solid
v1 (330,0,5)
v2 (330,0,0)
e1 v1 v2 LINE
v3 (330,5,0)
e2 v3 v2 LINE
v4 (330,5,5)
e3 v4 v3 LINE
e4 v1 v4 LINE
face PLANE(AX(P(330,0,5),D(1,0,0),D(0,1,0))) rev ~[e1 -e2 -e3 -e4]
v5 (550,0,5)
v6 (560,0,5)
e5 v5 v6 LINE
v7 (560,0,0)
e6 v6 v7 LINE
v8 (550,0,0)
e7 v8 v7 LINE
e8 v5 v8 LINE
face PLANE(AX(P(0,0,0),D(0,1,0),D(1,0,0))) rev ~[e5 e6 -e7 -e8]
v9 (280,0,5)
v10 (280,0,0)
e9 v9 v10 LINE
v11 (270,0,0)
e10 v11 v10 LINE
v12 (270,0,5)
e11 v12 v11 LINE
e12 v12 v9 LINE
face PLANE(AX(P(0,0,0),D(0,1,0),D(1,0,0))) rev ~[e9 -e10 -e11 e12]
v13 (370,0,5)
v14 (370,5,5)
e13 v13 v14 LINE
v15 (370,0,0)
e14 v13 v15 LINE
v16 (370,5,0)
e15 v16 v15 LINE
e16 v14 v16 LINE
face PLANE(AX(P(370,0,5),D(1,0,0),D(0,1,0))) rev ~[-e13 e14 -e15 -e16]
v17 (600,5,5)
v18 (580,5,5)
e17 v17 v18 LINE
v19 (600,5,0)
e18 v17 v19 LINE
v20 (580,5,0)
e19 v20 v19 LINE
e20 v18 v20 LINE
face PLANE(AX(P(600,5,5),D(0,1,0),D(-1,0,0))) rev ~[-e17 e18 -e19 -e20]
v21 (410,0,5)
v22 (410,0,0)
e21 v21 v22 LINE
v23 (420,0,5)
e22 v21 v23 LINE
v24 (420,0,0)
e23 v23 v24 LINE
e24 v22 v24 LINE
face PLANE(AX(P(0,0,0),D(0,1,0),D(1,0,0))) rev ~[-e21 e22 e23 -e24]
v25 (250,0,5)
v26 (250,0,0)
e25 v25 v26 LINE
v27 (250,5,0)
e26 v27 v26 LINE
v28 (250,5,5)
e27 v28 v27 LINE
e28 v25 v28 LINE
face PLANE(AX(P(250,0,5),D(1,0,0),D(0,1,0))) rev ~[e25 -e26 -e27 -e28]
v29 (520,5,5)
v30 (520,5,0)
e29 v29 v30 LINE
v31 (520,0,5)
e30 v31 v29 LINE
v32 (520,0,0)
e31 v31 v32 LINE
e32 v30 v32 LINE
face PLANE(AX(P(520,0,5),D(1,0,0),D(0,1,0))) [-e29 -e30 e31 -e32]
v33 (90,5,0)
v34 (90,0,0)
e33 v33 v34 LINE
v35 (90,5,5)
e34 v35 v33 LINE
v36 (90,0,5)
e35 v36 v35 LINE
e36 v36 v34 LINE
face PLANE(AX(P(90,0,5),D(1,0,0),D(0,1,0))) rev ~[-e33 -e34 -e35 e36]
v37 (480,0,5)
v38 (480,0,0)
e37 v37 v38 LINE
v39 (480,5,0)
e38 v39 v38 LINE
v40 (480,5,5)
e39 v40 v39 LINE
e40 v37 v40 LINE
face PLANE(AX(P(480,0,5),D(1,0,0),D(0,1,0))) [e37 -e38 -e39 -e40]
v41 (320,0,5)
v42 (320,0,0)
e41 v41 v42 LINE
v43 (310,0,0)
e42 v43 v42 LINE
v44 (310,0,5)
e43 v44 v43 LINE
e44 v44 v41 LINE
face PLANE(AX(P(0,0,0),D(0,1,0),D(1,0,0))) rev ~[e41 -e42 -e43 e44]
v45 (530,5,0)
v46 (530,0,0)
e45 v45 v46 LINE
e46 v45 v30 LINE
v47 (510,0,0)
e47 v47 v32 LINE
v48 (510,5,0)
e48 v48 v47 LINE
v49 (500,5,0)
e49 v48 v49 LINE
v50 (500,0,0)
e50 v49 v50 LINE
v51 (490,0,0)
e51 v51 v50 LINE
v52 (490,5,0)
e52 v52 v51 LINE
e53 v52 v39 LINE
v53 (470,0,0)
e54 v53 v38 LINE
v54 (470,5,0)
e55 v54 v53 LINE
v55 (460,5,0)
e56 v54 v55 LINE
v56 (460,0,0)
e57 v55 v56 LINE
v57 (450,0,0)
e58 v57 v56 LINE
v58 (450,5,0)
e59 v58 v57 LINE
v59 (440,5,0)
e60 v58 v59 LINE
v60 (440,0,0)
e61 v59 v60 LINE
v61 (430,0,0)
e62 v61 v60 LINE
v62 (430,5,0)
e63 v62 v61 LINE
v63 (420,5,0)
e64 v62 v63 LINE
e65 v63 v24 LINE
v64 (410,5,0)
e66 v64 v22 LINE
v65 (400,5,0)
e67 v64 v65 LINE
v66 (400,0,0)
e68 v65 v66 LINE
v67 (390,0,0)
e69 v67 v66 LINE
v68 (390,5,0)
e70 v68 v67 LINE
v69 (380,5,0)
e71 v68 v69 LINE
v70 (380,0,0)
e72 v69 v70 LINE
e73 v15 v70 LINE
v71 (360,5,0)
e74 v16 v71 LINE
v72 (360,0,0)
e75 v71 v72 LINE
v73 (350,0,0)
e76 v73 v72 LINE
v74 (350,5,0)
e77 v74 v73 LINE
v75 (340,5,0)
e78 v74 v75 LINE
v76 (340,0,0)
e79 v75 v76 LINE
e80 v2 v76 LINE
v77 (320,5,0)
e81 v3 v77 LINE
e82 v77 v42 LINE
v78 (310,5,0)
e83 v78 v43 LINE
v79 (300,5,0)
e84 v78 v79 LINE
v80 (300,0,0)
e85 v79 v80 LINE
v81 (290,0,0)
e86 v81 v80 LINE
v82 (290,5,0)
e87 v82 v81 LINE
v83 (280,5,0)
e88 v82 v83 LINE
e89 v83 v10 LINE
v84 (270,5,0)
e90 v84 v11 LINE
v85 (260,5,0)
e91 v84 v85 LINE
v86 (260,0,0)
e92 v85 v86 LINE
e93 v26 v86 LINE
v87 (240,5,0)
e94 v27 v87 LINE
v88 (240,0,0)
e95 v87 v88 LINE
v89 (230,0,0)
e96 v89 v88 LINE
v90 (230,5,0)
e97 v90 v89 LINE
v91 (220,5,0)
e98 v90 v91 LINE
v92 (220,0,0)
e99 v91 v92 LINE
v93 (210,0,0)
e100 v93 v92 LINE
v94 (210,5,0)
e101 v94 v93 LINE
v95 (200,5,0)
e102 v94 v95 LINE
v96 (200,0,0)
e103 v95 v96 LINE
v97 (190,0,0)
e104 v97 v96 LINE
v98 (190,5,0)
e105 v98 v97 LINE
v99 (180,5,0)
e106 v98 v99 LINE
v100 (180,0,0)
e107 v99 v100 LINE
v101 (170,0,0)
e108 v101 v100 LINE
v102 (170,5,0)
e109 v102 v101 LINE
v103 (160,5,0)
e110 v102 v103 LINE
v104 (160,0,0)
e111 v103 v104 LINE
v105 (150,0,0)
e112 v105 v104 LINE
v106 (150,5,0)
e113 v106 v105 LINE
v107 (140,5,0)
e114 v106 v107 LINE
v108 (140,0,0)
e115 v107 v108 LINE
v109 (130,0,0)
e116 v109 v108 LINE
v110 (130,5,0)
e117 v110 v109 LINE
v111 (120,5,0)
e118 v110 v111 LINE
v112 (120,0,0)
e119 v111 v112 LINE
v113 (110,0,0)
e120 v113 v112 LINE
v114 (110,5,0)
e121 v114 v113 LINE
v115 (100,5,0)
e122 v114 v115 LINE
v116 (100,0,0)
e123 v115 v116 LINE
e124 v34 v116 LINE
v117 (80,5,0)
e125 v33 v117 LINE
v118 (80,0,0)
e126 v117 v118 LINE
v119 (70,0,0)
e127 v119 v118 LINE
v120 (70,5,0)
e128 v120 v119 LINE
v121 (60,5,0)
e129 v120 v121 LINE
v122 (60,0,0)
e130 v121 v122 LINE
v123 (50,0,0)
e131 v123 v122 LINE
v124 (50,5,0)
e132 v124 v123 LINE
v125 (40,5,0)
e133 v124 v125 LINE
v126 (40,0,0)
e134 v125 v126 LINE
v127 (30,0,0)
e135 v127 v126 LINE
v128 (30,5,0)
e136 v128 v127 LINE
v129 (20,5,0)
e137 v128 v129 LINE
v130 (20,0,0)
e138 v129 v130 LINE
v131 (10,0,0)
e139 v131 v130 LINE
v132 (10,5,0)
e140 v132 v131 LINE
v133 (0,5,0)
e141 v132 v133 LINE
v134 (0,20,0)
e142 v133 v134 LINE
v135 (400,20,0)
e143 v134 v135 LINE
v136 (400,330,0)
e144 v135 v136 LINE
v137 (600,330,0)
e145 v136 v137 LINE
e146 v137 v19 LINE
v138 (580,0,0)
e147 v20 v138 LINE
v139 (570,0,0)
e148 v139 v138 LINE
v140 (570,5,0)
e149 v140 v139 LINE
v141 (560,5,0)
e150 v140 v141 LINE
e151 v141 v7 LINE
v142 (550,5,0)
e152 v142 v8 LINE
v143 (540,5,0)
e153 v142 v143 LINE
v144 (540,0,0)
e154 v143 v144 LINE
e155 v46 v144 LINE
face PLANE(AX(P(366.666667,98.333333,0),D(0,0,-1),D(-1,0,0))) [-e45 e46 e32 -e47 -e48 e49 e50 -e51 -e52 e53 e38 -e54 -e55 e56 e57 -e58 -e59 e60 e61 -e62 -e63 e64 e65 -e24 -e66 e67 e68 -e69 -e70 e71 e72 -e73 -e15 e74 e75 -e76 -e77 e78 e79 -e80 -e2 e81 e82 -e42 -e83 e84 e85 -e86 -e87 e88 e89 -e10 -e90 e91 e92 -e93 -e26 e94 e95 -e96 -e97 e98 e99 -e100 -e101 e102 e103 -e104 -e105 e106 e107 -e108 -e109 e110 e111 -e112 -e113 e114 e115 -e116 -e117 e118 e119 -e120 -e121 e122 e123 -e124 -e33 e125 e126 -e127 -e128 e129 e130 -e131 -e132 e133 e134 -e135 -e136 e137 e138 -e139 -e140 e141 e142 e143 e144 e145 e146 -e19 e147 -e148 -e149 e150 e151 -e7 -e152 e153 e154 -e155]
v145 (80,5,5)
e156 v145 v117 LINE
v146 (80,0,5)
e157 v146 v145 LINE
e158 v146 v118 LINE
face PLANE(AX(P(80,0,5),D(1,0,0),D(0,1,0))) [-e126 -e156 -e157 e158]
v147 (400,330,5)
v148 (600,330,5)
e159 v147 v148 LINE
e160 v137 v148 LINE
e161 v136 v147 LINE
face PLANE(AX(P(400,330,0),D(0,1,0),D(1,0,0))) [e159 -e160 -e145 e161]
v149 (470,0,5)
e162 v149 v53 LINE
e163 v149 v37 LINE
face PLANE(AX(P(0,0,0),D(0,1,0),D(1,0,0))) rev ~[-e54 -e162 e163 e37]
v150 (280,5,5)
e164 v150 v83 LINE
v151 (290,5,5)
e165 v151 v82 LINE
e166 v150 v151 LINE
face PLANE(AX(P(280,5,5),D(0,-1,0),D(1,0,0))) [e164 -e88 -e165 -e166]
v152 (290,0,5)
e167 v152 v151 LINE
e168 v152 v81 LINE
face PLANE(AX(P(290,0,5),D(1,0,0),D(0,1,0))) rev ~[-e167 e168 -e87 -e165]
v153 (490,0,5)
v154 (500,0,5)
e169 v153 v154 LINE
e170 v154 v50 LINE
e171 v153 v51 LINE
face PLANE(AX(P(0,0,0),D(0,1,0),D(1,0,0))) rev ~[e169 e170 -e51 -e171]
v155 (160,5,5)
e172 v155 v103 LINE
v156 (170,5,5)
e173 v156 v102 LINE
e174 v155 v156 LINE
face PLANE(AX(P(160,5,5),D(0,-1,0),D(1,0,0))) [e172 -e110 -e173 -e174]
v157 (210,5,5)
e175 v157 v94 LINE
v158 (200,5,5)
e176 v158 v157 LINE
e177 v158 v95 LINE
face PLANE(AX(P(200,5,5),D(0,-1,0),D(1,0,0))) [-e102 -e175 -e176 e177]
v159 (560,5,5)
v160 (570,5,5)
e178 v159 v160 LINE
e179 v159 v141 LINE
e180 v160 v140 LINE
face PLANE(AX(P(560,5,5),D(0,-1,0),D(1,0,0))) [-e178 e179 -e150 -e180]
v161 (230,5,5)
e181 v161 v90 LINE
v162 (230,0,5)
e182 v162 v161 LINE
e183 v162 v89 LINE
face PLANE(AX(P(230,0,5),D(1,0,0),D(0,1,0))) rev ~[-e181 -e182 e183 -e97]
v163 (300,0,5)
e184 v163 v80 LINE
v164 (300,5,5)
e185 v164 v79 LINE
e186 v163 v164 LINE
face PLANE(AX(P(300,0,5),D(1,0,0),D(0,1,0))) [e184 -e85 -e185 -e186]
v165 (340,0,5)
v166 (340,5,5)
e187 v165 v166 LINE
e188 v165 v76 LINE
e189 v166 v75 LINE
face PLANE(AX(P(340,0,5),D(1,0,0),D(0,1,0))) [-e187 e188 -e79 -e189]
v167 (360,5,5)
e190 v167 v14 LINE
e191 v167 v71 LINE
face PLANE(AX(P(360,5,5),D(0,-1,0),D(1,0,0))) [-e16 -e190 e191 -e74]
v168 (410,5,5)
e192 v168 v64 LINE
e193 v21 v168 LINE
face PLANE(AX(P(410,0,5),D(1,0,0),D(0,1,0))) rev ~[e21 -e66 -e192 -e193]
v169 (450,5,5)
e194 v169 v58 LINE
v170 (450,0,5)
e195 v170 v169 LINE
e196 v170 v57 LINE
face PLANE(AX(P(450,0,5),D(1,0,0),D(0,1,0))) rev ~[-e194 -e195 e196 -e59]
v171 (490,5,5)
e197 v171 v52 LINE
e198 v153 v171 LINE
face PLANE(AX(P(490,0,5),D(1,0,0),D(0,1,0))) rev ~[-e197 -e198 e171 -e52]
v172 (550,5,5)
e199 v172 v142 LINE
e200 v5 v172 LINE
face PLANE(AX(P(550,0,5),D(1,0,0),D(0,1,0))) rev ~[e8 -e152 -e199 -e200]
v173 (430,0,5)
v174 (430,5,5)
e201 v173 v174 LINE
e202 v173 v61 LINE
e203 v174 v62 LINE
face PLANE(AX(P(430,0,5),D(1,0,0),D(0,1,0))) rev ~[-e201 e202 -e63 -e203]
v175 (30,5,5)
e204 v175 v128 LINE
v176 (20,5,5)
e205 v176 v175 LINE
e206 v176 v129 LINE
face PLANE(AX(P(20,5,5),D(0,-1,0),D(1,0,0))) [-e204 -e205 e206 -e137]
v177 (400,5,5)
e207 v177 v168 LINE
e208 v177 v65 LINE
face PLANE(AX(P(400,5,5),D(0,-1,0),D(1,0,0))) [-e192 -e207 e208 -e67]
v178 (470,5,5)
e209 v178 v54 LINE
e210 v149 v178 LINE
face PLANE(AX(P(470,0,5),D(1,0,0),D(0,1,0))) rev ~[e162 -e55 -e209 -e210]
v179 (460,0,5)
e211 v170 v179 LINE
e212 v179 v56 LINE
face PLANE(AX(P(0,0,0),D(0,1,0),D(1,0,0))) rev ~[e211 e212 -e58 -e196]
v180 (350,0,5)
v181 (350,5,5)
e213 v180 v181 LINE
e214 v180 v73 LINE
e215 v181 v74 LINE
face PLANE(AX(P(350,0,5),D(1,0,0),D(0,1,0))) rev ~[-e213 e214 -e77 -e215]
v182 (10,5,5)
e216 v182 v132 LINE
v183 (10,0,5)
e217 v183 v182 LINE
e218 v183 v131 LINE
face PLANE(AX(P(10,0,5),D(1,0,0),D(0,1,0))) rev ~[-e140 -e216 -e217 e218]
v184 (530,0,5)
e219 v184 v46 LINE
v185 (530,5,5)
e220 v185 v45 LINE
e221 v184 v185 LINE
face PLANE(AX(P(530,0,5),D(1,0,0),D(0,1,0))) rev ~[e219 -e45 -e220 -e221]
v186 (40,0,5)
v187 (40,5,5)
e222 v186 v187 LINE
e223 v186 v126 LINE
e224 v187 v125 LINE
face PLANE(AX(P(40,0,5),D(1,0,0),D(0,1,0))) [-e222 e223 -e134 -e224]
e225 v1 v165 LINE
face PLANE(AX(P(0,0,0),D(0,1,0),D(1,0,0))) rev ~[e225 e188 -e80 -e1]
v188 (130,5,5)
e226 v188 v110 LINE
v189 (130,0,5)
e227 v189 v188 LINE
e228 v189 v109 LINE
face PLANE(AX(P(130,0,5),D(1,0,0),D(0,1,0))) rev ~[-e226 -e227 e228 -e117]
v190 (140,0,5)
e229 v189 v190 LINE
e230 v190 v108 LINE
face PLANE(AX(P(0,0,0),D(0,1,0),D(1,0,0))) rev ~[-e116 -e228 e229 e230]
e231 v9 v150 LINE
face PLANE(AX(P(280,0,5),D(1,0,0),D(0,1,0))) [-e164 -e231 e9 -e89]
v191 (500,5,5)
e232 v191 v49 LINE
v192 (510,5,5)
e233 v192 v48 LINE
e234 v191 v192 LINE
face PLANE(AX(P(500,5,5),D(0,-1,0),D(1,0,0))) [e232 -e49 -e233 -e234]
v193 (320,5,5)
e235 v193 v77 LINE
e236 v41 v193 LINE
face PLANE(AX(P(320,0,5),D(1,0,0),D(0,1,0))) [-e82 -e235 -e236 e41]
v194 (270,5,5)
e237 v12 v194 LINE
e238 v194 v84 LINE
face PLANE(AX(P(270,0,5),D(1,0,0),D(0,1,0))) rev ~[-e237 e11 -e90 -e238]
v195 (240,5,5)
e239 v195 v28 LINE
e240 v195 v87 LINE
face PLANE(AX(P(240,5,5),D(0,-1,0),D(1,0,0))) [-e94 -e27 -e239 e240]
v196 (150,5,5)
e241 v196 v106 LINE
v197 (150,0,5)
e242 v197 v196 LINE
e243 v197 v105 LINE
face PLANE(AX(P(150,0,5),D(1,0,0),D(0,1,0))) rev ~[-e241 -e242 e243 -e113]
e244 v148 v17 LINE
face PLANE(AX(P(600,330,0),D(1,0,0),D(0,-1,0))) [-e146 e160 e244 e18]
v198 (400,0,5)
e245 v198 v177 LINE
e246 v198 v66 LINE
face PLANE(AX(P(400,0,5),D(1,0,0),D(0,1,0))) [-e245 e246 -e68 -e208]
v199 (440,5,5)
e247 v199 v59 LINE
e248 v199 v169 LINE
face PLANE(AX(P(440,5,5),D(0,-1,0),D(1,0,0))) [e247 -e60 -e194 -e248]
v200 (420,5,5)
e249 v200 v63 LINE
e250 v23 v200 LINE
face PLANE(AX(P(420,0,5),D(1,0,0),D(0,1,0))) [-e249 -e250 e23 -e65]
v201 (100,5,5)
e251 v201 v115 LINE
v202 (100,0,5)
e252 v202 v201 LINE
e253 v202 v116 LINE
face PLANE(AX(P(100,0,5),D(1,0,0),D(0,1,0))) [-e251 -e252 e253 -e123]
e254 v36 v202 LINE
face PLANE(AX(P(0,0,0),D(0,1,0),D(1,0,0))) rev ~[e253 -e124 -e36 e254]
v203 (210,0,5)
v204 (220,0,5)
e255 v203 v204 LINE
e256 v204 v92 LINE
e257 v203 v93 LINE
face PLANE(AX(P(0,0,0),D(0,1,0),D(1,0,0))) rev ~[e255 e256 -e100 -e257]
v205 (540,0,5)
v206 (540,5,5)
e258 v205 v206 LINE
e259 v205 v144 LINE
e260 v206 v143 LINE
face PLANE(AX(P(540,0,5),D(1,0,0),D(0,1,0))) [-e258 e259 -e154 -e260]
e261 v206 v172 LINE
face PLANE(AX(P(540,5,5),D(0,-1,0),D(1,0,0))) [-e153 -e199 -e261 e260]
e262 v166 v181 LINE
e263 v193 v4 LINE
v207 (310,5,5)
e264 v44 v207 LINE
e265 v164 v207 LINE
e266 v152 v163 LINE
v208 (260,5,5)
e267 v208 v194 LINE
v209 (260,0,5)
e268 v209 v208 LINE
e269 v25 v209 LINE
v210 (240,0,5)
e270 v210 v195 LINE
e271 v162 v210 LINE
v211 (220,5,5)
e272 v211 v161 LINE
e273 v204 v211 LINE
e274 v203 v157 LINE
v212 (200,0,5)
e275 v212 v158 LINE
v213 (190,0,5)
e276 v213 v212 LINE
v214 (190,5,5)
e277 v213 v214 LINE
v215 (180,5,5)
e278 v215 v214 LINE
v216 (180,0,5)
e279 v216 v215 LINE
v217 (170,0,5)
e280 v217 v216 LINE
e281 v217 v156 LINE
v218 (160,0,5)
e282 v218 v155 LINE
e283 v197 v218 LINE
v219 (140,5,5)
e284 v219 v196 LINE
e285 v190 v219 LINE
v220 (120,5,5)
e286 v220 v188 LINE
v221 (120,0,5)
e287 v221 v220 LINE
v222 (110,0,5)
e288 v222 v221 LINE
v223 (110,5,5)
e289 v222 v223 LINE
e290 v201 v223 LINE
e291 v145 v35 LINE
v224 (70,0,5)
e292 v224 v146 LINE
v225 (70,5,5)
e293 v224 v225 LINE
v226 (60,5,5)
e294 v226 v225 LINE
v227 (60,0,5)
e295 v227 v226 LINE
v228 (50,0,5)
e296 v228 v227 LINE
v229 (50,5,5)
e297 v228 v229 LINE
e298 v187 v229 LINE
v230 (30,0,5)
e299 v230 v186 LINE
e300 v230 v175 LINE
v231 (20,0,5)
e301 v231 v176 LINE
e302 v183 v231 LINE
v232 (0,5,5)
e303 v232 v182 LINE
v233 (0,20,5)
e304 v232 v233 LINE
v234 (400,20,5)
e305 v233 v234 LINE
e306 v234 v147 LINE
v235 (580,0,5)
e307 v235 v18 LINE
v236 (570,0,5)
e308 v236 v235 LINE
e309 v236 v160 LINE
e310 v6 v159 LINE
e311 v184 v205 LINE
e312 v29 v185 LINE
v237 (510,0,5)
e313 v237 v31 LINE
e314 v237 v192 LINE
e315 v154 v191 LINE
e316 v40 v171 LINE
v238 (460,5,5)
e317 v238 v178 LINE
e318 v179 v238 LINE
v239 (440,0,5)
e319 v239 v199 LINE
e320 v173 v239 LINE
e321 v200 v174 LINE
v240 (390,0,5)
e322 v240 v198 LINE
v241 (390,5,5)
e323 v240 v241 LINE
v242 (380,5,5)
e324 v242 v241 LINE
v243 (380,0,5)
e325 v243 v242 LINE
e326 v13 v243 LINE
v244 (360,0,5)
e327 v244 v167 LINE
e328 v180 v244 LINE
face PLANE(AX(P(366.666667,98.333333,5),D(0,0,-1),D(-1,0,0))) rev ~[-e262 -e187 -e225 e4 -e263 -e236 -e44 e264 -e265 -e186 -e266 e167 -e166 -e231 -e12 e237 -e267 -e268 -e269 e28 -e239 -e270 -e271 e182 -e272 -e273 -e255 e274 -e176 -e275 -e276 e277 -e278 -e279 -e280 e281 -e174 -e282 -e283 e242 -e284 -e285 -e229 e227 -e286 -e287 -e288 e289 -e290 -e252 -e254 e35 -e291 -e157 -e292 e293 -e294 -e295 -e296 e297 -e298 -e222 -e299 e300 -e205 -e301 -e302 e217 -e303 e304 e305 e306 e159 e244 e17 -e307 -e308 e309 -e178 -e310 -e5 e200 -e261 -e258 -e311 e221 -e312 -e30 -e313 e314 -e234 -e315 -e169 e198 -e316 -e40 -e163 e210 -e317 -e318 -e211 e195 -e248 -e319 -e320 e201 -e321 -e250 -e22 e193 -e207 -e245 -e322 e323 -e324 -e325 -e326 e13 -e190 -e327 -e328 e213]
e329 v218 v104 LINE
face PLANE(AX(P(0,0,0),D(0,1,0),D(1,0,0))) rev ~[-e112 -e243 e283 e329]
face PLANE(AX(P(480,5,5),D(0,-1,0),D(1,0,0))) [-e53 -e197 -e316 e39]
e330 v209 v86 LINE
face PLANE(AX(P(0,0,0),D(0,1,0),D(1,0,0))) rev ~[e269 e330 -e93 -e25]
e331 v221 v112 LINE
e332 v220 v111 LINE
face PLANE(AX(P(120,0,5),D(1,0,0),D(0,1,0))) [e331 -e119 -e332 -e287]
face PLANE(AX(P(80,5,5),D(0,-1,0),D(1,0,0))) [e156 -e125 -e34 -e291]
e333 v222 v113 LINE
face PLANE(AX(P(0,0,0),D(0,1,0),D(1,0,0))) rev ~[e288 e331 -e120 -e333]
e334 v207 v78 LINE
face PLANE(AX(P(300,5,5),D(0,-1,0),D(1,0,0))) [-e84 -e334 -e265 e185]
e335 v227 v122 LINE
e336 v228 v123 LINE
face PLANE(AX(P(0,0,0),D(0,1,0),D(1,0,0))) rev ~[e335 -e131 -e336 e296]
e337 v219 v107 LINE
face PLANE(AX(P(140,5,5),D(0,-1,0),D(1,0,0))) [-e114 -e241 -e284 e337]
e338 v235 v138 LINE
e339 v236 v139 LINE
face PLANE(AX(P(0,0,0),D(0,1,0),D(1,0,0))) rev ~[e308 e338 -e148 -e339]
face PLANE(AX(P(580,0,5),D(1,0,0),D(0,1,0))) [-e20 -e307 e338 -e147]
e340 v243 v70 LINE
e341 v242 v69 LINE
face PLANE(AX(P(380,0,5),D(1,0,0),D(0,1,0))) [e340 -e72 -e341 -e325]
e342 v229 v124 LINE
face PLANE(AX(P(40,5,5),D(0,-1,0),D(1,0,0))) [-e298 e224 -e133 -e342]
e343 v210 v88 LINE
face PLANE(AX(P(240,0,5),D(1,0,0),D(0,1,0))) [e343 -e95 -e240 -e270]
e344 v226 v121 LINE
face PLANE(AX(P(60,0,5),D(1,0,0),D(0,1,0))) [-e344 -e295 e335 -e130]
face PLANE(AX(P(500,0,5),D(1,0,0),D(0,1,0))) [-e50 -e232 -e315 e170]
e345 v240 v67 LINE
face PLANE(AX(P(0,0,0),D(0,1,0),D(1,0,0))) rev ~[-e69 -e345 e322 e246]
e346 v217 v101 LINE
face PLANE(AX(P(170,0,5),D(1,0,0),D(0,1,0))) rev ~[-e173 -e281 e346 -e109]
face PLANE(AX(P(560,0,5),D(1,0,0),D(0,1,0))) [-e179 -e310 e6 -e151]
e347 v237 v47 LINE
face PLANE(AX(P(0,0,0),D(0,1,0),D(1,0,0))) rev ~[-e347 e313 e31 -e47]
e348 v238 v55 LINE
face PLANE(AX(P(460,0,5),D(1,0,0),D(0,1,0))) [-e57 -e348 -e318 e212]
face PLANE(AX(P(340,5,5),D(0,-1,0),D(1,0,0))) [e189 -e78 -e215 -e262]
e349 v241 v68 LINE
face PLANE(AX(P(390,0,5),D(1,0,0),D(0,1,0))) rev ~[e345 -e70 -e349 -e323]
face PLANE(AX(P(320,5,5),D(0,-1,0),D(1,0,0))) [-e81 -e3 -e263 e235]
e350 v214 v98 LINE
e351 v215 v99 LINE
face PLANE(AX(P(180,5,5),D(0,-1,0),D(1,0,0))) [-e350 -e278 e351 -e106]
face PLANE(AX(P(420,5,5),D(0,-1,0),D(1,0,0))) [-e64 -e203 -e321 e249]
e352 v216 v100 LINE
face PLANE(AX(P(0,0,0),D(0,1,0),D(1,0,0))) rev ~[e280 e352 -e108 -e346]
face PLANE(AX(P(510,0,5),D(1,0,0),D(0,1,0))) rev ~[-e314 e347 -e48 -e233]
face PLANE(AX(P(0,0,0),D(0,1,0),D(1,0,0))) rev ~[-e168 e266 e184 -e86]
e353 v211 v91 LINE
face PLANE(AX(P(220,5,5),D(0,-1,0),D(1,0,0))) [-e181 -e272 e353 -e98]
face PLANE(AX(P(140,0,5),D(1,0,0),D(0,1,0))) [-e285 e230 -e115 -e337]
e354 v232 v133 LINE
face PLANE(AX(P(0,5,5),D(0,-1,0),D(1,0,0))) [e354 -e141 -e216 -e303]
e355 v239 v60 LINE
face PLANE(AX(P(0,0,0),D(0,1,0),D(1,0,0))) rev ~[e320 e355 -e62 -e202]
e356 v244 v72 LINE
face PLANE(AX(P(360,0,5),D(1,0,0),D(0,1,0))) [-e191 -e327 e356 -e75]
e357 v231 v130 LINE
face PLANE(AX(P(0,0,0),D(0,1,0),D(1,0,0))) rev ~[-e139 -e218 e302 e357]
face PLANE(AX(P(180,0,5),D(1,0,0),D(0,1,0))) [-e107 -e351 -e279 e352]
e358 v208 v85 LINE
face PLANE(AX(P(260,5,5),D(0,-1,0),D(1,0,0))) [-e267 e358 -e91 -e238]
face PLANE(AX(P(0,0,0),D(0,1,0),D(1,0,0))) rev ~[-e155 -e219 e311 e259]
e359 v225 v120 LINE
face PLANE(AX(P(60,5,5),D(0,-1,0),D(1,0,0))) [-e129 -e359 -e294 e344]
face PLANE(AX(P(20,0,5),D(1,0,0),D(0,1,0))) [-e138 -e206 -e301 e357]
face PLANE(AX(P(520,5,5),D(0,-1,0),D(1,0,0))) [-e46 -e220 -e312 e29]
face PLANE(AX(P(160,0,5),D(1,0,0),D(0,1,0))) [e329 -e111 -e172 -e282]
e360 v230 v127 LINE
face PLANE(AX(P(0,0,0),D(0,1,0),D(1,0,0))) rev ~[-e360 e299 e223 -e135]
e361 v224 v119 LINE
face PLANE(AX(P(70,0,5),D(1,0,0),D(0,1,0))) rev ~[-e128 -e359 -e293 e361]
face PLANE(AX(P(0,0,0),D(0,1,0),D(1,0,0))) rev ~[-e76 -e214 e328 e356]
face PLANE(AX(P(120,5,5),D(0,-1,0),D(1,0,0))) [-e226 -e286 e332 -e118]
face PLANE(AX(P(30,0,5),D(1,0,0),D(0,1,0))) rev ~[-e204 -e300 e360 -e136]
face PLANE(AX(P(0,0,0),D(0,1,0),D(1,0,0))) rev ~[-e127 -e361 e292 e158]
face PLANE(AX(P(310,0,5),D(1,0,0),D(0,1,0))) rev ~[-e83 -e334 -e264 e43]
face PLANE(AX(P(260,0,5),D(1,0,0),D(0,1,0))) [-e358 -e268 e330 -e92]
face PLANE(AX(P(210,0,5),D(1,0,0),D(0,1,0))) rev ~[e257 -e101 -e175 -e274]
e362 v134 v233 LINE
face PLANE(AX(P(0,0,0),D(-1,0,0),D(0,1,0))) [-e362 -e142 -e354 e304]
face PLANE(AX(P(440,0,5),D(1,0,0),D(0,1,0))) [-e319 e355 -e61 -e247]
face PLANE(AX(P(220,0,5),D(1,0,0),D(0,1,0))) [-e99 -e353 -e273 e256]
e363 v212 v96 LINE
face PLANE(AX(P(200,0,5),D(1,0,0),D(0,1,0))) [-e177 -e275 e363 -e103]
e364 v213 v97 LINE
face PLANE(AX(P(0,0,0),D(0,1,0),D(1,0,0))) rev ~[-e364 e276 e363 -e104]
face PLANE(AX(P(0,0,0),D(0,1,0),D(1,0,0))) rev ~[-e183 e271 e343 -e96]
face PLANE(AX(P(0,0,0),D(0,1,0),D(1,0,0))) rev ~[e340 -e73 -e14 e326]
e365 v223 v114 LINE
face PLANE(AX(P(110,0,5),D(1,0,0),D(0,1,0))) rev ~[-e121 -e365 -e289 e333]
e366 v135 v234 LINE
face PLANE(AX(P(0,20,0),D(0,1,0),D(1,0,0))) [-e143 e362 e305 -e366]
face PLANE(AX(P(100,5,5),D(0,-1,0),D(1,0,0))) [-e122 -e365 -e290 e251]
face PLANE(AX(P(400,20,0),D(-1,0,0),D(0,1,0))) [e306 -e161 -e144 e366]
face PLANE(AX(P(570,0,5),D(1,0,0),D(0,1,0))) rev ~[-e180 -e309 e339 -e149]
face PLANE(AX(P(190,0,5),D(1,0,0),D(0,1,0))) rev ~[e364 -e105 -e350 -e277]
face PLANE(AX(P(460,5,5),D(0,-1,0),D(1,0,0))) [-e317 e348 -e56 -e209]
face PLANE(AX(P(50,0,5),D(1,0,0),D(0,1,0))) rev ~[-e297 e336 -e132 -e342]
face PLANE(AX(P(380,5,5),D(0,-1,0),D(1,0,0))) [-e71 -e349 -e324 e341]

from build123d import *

# Parameters (mm, degrees)
BOSS_EXTRU_1_DEPTH      = 5
ESQUISSE2_W             = 10
ESQUISSE2_H             = 5
ENL_V_MAT_EXTRU_2_DEPTH = 685.780986886


with BuildPart() as part:
    # Esquisse1 → Boss.-Extru.1 (new body)
    with BuildSketch(Plane.XY):
        Polygon((400, 20), (400, 330), (600, 330), (600, 0), (400, 0), (0, 0), (0, 20), align=None)
    extrude(amount=BOSS_EXTRU_1_DEPTH)

    # Esquisse2 → Enlèv. mat.-Extru.2 (cut, through all)
    with BuildSketch(Plane.XY.offset(5)):
        with Locations((25, 2.5)):
            Rectangle(ESQUISSE2_W, ESQUISSE2_H)
        with Locations((5, 2.5)):
            Rectangle(ESQUISSE2_W, ESQUISSE2_H)
        with Locations((45, 2.5)):
            Rectangle(ESQUISSE2_W, ESQUISSE2_H)
        with Locations((65, 2.5)):
            Rectangle(ESQUISSE2_W, ESQUISSE2_H)
        with Locations((85, 2.5)):
            Rectangle(ESQUISSE2_W, ESQUISSE2_H)
        with Locations((105, 2.5)):
            Rectangle(ESQUISSE2_W, ESQUISSE2_H)
        with Locations((125, 2.5)):
            Rectangle(ESQUISSE2_W, ESQUISSE2_H)
        with Locations((145, 2.5)):
            Rectangle(ESQUISSE2_W, ESQUISSE2_H)
        with Locations((165, 2.5)):
            Rectangle(ESQUISSE2_W, ESQUISSE2_H)
        with Locations((185, 2.5)):
            Rectangle(ESQUISSE2_W, ESQUISSE2_H)
        with Locations((205, 2.5)):
            Rectangle(ESQUISSE2_W, ESQUISSE2_H)
        with Locations((225, 2.5)):
            Rectangle(ESQUISSE2_W, ESQUISSE2_H)
        with Locations((245, 2.5)):
            Rectangle(ESQUISSE2_W, ESQUISSE2_H)
        with Locations((265, 2.5)):
            Rectangle(ESQUISSE2_W, ESQUISSE2_H)
        with Locations((285, 2.5)):
            Rectangle(ESQUISSE2_W, ESQUISSE2_H)
        with Locations((305, 2.5)):
            Rectangle(ESQUISSE2_W, ESQUISSE2_H)
        with Locations((325, 2.5)):
            Rectangle(ESQUISSE2_W, ESQUISSE2_H)
        with Locations((345, 2.5)):
            Rectangle(ESQUISSE2_W, ESQUISSE2_H)
        with Locations((365, 2.5)):
            Rectangle(ESQUISSE2_W, ESQUISSE2_H)
        with Locations((385, 2.5)):
            Rectangle(ESQUISSE2_W, ESQUISSE2_H)
        with Locations((405, 2.5)):
            Rectangle(ESQUISSE2_W, ESQUISSE2_H)
        with Locations((425, 2.5)):
            Rectangle(ESQUISSE2_W, ESQUISSE2_H)
        with Locations((445, 2.5)):
            Rectangle(ESQUISSE2_W, ESQUISSE2_H)
        with Locations((465, 2.5)):
            Rectangle(ESQUISSE2_W, ESQUISSE2_H)
        with Locations((485, 2.5)):
            Rectangle(ESQUISSE2_W, ESQUISSE2_H)
        with Locations((505, 2.5)):
            Rectangle(ESQUISSE2_W, ESQUISSE2_H)
        with Locations((525, 2.5)):
            Rectangle(ESQUISSE2_W, ESQUISSE2_H)
        with Locations((545, 2.5)):
            Rectangle(ESQUISSE2_W, ESQUISSE2_H)
        with Locations((565, 2.5)):
            Rectangle(ESQUISSE2_W, ESQUISSE2_H)
        Polygon((580, 0), (580, 5), (590, 5), (600, 5), (600, 0), (590, 0), align=None)
    extrude(amount=-ENL_V_MAT_EXTRU_2_DEPTH, mode=Mode.SUBTRACT)


solid = part.part
